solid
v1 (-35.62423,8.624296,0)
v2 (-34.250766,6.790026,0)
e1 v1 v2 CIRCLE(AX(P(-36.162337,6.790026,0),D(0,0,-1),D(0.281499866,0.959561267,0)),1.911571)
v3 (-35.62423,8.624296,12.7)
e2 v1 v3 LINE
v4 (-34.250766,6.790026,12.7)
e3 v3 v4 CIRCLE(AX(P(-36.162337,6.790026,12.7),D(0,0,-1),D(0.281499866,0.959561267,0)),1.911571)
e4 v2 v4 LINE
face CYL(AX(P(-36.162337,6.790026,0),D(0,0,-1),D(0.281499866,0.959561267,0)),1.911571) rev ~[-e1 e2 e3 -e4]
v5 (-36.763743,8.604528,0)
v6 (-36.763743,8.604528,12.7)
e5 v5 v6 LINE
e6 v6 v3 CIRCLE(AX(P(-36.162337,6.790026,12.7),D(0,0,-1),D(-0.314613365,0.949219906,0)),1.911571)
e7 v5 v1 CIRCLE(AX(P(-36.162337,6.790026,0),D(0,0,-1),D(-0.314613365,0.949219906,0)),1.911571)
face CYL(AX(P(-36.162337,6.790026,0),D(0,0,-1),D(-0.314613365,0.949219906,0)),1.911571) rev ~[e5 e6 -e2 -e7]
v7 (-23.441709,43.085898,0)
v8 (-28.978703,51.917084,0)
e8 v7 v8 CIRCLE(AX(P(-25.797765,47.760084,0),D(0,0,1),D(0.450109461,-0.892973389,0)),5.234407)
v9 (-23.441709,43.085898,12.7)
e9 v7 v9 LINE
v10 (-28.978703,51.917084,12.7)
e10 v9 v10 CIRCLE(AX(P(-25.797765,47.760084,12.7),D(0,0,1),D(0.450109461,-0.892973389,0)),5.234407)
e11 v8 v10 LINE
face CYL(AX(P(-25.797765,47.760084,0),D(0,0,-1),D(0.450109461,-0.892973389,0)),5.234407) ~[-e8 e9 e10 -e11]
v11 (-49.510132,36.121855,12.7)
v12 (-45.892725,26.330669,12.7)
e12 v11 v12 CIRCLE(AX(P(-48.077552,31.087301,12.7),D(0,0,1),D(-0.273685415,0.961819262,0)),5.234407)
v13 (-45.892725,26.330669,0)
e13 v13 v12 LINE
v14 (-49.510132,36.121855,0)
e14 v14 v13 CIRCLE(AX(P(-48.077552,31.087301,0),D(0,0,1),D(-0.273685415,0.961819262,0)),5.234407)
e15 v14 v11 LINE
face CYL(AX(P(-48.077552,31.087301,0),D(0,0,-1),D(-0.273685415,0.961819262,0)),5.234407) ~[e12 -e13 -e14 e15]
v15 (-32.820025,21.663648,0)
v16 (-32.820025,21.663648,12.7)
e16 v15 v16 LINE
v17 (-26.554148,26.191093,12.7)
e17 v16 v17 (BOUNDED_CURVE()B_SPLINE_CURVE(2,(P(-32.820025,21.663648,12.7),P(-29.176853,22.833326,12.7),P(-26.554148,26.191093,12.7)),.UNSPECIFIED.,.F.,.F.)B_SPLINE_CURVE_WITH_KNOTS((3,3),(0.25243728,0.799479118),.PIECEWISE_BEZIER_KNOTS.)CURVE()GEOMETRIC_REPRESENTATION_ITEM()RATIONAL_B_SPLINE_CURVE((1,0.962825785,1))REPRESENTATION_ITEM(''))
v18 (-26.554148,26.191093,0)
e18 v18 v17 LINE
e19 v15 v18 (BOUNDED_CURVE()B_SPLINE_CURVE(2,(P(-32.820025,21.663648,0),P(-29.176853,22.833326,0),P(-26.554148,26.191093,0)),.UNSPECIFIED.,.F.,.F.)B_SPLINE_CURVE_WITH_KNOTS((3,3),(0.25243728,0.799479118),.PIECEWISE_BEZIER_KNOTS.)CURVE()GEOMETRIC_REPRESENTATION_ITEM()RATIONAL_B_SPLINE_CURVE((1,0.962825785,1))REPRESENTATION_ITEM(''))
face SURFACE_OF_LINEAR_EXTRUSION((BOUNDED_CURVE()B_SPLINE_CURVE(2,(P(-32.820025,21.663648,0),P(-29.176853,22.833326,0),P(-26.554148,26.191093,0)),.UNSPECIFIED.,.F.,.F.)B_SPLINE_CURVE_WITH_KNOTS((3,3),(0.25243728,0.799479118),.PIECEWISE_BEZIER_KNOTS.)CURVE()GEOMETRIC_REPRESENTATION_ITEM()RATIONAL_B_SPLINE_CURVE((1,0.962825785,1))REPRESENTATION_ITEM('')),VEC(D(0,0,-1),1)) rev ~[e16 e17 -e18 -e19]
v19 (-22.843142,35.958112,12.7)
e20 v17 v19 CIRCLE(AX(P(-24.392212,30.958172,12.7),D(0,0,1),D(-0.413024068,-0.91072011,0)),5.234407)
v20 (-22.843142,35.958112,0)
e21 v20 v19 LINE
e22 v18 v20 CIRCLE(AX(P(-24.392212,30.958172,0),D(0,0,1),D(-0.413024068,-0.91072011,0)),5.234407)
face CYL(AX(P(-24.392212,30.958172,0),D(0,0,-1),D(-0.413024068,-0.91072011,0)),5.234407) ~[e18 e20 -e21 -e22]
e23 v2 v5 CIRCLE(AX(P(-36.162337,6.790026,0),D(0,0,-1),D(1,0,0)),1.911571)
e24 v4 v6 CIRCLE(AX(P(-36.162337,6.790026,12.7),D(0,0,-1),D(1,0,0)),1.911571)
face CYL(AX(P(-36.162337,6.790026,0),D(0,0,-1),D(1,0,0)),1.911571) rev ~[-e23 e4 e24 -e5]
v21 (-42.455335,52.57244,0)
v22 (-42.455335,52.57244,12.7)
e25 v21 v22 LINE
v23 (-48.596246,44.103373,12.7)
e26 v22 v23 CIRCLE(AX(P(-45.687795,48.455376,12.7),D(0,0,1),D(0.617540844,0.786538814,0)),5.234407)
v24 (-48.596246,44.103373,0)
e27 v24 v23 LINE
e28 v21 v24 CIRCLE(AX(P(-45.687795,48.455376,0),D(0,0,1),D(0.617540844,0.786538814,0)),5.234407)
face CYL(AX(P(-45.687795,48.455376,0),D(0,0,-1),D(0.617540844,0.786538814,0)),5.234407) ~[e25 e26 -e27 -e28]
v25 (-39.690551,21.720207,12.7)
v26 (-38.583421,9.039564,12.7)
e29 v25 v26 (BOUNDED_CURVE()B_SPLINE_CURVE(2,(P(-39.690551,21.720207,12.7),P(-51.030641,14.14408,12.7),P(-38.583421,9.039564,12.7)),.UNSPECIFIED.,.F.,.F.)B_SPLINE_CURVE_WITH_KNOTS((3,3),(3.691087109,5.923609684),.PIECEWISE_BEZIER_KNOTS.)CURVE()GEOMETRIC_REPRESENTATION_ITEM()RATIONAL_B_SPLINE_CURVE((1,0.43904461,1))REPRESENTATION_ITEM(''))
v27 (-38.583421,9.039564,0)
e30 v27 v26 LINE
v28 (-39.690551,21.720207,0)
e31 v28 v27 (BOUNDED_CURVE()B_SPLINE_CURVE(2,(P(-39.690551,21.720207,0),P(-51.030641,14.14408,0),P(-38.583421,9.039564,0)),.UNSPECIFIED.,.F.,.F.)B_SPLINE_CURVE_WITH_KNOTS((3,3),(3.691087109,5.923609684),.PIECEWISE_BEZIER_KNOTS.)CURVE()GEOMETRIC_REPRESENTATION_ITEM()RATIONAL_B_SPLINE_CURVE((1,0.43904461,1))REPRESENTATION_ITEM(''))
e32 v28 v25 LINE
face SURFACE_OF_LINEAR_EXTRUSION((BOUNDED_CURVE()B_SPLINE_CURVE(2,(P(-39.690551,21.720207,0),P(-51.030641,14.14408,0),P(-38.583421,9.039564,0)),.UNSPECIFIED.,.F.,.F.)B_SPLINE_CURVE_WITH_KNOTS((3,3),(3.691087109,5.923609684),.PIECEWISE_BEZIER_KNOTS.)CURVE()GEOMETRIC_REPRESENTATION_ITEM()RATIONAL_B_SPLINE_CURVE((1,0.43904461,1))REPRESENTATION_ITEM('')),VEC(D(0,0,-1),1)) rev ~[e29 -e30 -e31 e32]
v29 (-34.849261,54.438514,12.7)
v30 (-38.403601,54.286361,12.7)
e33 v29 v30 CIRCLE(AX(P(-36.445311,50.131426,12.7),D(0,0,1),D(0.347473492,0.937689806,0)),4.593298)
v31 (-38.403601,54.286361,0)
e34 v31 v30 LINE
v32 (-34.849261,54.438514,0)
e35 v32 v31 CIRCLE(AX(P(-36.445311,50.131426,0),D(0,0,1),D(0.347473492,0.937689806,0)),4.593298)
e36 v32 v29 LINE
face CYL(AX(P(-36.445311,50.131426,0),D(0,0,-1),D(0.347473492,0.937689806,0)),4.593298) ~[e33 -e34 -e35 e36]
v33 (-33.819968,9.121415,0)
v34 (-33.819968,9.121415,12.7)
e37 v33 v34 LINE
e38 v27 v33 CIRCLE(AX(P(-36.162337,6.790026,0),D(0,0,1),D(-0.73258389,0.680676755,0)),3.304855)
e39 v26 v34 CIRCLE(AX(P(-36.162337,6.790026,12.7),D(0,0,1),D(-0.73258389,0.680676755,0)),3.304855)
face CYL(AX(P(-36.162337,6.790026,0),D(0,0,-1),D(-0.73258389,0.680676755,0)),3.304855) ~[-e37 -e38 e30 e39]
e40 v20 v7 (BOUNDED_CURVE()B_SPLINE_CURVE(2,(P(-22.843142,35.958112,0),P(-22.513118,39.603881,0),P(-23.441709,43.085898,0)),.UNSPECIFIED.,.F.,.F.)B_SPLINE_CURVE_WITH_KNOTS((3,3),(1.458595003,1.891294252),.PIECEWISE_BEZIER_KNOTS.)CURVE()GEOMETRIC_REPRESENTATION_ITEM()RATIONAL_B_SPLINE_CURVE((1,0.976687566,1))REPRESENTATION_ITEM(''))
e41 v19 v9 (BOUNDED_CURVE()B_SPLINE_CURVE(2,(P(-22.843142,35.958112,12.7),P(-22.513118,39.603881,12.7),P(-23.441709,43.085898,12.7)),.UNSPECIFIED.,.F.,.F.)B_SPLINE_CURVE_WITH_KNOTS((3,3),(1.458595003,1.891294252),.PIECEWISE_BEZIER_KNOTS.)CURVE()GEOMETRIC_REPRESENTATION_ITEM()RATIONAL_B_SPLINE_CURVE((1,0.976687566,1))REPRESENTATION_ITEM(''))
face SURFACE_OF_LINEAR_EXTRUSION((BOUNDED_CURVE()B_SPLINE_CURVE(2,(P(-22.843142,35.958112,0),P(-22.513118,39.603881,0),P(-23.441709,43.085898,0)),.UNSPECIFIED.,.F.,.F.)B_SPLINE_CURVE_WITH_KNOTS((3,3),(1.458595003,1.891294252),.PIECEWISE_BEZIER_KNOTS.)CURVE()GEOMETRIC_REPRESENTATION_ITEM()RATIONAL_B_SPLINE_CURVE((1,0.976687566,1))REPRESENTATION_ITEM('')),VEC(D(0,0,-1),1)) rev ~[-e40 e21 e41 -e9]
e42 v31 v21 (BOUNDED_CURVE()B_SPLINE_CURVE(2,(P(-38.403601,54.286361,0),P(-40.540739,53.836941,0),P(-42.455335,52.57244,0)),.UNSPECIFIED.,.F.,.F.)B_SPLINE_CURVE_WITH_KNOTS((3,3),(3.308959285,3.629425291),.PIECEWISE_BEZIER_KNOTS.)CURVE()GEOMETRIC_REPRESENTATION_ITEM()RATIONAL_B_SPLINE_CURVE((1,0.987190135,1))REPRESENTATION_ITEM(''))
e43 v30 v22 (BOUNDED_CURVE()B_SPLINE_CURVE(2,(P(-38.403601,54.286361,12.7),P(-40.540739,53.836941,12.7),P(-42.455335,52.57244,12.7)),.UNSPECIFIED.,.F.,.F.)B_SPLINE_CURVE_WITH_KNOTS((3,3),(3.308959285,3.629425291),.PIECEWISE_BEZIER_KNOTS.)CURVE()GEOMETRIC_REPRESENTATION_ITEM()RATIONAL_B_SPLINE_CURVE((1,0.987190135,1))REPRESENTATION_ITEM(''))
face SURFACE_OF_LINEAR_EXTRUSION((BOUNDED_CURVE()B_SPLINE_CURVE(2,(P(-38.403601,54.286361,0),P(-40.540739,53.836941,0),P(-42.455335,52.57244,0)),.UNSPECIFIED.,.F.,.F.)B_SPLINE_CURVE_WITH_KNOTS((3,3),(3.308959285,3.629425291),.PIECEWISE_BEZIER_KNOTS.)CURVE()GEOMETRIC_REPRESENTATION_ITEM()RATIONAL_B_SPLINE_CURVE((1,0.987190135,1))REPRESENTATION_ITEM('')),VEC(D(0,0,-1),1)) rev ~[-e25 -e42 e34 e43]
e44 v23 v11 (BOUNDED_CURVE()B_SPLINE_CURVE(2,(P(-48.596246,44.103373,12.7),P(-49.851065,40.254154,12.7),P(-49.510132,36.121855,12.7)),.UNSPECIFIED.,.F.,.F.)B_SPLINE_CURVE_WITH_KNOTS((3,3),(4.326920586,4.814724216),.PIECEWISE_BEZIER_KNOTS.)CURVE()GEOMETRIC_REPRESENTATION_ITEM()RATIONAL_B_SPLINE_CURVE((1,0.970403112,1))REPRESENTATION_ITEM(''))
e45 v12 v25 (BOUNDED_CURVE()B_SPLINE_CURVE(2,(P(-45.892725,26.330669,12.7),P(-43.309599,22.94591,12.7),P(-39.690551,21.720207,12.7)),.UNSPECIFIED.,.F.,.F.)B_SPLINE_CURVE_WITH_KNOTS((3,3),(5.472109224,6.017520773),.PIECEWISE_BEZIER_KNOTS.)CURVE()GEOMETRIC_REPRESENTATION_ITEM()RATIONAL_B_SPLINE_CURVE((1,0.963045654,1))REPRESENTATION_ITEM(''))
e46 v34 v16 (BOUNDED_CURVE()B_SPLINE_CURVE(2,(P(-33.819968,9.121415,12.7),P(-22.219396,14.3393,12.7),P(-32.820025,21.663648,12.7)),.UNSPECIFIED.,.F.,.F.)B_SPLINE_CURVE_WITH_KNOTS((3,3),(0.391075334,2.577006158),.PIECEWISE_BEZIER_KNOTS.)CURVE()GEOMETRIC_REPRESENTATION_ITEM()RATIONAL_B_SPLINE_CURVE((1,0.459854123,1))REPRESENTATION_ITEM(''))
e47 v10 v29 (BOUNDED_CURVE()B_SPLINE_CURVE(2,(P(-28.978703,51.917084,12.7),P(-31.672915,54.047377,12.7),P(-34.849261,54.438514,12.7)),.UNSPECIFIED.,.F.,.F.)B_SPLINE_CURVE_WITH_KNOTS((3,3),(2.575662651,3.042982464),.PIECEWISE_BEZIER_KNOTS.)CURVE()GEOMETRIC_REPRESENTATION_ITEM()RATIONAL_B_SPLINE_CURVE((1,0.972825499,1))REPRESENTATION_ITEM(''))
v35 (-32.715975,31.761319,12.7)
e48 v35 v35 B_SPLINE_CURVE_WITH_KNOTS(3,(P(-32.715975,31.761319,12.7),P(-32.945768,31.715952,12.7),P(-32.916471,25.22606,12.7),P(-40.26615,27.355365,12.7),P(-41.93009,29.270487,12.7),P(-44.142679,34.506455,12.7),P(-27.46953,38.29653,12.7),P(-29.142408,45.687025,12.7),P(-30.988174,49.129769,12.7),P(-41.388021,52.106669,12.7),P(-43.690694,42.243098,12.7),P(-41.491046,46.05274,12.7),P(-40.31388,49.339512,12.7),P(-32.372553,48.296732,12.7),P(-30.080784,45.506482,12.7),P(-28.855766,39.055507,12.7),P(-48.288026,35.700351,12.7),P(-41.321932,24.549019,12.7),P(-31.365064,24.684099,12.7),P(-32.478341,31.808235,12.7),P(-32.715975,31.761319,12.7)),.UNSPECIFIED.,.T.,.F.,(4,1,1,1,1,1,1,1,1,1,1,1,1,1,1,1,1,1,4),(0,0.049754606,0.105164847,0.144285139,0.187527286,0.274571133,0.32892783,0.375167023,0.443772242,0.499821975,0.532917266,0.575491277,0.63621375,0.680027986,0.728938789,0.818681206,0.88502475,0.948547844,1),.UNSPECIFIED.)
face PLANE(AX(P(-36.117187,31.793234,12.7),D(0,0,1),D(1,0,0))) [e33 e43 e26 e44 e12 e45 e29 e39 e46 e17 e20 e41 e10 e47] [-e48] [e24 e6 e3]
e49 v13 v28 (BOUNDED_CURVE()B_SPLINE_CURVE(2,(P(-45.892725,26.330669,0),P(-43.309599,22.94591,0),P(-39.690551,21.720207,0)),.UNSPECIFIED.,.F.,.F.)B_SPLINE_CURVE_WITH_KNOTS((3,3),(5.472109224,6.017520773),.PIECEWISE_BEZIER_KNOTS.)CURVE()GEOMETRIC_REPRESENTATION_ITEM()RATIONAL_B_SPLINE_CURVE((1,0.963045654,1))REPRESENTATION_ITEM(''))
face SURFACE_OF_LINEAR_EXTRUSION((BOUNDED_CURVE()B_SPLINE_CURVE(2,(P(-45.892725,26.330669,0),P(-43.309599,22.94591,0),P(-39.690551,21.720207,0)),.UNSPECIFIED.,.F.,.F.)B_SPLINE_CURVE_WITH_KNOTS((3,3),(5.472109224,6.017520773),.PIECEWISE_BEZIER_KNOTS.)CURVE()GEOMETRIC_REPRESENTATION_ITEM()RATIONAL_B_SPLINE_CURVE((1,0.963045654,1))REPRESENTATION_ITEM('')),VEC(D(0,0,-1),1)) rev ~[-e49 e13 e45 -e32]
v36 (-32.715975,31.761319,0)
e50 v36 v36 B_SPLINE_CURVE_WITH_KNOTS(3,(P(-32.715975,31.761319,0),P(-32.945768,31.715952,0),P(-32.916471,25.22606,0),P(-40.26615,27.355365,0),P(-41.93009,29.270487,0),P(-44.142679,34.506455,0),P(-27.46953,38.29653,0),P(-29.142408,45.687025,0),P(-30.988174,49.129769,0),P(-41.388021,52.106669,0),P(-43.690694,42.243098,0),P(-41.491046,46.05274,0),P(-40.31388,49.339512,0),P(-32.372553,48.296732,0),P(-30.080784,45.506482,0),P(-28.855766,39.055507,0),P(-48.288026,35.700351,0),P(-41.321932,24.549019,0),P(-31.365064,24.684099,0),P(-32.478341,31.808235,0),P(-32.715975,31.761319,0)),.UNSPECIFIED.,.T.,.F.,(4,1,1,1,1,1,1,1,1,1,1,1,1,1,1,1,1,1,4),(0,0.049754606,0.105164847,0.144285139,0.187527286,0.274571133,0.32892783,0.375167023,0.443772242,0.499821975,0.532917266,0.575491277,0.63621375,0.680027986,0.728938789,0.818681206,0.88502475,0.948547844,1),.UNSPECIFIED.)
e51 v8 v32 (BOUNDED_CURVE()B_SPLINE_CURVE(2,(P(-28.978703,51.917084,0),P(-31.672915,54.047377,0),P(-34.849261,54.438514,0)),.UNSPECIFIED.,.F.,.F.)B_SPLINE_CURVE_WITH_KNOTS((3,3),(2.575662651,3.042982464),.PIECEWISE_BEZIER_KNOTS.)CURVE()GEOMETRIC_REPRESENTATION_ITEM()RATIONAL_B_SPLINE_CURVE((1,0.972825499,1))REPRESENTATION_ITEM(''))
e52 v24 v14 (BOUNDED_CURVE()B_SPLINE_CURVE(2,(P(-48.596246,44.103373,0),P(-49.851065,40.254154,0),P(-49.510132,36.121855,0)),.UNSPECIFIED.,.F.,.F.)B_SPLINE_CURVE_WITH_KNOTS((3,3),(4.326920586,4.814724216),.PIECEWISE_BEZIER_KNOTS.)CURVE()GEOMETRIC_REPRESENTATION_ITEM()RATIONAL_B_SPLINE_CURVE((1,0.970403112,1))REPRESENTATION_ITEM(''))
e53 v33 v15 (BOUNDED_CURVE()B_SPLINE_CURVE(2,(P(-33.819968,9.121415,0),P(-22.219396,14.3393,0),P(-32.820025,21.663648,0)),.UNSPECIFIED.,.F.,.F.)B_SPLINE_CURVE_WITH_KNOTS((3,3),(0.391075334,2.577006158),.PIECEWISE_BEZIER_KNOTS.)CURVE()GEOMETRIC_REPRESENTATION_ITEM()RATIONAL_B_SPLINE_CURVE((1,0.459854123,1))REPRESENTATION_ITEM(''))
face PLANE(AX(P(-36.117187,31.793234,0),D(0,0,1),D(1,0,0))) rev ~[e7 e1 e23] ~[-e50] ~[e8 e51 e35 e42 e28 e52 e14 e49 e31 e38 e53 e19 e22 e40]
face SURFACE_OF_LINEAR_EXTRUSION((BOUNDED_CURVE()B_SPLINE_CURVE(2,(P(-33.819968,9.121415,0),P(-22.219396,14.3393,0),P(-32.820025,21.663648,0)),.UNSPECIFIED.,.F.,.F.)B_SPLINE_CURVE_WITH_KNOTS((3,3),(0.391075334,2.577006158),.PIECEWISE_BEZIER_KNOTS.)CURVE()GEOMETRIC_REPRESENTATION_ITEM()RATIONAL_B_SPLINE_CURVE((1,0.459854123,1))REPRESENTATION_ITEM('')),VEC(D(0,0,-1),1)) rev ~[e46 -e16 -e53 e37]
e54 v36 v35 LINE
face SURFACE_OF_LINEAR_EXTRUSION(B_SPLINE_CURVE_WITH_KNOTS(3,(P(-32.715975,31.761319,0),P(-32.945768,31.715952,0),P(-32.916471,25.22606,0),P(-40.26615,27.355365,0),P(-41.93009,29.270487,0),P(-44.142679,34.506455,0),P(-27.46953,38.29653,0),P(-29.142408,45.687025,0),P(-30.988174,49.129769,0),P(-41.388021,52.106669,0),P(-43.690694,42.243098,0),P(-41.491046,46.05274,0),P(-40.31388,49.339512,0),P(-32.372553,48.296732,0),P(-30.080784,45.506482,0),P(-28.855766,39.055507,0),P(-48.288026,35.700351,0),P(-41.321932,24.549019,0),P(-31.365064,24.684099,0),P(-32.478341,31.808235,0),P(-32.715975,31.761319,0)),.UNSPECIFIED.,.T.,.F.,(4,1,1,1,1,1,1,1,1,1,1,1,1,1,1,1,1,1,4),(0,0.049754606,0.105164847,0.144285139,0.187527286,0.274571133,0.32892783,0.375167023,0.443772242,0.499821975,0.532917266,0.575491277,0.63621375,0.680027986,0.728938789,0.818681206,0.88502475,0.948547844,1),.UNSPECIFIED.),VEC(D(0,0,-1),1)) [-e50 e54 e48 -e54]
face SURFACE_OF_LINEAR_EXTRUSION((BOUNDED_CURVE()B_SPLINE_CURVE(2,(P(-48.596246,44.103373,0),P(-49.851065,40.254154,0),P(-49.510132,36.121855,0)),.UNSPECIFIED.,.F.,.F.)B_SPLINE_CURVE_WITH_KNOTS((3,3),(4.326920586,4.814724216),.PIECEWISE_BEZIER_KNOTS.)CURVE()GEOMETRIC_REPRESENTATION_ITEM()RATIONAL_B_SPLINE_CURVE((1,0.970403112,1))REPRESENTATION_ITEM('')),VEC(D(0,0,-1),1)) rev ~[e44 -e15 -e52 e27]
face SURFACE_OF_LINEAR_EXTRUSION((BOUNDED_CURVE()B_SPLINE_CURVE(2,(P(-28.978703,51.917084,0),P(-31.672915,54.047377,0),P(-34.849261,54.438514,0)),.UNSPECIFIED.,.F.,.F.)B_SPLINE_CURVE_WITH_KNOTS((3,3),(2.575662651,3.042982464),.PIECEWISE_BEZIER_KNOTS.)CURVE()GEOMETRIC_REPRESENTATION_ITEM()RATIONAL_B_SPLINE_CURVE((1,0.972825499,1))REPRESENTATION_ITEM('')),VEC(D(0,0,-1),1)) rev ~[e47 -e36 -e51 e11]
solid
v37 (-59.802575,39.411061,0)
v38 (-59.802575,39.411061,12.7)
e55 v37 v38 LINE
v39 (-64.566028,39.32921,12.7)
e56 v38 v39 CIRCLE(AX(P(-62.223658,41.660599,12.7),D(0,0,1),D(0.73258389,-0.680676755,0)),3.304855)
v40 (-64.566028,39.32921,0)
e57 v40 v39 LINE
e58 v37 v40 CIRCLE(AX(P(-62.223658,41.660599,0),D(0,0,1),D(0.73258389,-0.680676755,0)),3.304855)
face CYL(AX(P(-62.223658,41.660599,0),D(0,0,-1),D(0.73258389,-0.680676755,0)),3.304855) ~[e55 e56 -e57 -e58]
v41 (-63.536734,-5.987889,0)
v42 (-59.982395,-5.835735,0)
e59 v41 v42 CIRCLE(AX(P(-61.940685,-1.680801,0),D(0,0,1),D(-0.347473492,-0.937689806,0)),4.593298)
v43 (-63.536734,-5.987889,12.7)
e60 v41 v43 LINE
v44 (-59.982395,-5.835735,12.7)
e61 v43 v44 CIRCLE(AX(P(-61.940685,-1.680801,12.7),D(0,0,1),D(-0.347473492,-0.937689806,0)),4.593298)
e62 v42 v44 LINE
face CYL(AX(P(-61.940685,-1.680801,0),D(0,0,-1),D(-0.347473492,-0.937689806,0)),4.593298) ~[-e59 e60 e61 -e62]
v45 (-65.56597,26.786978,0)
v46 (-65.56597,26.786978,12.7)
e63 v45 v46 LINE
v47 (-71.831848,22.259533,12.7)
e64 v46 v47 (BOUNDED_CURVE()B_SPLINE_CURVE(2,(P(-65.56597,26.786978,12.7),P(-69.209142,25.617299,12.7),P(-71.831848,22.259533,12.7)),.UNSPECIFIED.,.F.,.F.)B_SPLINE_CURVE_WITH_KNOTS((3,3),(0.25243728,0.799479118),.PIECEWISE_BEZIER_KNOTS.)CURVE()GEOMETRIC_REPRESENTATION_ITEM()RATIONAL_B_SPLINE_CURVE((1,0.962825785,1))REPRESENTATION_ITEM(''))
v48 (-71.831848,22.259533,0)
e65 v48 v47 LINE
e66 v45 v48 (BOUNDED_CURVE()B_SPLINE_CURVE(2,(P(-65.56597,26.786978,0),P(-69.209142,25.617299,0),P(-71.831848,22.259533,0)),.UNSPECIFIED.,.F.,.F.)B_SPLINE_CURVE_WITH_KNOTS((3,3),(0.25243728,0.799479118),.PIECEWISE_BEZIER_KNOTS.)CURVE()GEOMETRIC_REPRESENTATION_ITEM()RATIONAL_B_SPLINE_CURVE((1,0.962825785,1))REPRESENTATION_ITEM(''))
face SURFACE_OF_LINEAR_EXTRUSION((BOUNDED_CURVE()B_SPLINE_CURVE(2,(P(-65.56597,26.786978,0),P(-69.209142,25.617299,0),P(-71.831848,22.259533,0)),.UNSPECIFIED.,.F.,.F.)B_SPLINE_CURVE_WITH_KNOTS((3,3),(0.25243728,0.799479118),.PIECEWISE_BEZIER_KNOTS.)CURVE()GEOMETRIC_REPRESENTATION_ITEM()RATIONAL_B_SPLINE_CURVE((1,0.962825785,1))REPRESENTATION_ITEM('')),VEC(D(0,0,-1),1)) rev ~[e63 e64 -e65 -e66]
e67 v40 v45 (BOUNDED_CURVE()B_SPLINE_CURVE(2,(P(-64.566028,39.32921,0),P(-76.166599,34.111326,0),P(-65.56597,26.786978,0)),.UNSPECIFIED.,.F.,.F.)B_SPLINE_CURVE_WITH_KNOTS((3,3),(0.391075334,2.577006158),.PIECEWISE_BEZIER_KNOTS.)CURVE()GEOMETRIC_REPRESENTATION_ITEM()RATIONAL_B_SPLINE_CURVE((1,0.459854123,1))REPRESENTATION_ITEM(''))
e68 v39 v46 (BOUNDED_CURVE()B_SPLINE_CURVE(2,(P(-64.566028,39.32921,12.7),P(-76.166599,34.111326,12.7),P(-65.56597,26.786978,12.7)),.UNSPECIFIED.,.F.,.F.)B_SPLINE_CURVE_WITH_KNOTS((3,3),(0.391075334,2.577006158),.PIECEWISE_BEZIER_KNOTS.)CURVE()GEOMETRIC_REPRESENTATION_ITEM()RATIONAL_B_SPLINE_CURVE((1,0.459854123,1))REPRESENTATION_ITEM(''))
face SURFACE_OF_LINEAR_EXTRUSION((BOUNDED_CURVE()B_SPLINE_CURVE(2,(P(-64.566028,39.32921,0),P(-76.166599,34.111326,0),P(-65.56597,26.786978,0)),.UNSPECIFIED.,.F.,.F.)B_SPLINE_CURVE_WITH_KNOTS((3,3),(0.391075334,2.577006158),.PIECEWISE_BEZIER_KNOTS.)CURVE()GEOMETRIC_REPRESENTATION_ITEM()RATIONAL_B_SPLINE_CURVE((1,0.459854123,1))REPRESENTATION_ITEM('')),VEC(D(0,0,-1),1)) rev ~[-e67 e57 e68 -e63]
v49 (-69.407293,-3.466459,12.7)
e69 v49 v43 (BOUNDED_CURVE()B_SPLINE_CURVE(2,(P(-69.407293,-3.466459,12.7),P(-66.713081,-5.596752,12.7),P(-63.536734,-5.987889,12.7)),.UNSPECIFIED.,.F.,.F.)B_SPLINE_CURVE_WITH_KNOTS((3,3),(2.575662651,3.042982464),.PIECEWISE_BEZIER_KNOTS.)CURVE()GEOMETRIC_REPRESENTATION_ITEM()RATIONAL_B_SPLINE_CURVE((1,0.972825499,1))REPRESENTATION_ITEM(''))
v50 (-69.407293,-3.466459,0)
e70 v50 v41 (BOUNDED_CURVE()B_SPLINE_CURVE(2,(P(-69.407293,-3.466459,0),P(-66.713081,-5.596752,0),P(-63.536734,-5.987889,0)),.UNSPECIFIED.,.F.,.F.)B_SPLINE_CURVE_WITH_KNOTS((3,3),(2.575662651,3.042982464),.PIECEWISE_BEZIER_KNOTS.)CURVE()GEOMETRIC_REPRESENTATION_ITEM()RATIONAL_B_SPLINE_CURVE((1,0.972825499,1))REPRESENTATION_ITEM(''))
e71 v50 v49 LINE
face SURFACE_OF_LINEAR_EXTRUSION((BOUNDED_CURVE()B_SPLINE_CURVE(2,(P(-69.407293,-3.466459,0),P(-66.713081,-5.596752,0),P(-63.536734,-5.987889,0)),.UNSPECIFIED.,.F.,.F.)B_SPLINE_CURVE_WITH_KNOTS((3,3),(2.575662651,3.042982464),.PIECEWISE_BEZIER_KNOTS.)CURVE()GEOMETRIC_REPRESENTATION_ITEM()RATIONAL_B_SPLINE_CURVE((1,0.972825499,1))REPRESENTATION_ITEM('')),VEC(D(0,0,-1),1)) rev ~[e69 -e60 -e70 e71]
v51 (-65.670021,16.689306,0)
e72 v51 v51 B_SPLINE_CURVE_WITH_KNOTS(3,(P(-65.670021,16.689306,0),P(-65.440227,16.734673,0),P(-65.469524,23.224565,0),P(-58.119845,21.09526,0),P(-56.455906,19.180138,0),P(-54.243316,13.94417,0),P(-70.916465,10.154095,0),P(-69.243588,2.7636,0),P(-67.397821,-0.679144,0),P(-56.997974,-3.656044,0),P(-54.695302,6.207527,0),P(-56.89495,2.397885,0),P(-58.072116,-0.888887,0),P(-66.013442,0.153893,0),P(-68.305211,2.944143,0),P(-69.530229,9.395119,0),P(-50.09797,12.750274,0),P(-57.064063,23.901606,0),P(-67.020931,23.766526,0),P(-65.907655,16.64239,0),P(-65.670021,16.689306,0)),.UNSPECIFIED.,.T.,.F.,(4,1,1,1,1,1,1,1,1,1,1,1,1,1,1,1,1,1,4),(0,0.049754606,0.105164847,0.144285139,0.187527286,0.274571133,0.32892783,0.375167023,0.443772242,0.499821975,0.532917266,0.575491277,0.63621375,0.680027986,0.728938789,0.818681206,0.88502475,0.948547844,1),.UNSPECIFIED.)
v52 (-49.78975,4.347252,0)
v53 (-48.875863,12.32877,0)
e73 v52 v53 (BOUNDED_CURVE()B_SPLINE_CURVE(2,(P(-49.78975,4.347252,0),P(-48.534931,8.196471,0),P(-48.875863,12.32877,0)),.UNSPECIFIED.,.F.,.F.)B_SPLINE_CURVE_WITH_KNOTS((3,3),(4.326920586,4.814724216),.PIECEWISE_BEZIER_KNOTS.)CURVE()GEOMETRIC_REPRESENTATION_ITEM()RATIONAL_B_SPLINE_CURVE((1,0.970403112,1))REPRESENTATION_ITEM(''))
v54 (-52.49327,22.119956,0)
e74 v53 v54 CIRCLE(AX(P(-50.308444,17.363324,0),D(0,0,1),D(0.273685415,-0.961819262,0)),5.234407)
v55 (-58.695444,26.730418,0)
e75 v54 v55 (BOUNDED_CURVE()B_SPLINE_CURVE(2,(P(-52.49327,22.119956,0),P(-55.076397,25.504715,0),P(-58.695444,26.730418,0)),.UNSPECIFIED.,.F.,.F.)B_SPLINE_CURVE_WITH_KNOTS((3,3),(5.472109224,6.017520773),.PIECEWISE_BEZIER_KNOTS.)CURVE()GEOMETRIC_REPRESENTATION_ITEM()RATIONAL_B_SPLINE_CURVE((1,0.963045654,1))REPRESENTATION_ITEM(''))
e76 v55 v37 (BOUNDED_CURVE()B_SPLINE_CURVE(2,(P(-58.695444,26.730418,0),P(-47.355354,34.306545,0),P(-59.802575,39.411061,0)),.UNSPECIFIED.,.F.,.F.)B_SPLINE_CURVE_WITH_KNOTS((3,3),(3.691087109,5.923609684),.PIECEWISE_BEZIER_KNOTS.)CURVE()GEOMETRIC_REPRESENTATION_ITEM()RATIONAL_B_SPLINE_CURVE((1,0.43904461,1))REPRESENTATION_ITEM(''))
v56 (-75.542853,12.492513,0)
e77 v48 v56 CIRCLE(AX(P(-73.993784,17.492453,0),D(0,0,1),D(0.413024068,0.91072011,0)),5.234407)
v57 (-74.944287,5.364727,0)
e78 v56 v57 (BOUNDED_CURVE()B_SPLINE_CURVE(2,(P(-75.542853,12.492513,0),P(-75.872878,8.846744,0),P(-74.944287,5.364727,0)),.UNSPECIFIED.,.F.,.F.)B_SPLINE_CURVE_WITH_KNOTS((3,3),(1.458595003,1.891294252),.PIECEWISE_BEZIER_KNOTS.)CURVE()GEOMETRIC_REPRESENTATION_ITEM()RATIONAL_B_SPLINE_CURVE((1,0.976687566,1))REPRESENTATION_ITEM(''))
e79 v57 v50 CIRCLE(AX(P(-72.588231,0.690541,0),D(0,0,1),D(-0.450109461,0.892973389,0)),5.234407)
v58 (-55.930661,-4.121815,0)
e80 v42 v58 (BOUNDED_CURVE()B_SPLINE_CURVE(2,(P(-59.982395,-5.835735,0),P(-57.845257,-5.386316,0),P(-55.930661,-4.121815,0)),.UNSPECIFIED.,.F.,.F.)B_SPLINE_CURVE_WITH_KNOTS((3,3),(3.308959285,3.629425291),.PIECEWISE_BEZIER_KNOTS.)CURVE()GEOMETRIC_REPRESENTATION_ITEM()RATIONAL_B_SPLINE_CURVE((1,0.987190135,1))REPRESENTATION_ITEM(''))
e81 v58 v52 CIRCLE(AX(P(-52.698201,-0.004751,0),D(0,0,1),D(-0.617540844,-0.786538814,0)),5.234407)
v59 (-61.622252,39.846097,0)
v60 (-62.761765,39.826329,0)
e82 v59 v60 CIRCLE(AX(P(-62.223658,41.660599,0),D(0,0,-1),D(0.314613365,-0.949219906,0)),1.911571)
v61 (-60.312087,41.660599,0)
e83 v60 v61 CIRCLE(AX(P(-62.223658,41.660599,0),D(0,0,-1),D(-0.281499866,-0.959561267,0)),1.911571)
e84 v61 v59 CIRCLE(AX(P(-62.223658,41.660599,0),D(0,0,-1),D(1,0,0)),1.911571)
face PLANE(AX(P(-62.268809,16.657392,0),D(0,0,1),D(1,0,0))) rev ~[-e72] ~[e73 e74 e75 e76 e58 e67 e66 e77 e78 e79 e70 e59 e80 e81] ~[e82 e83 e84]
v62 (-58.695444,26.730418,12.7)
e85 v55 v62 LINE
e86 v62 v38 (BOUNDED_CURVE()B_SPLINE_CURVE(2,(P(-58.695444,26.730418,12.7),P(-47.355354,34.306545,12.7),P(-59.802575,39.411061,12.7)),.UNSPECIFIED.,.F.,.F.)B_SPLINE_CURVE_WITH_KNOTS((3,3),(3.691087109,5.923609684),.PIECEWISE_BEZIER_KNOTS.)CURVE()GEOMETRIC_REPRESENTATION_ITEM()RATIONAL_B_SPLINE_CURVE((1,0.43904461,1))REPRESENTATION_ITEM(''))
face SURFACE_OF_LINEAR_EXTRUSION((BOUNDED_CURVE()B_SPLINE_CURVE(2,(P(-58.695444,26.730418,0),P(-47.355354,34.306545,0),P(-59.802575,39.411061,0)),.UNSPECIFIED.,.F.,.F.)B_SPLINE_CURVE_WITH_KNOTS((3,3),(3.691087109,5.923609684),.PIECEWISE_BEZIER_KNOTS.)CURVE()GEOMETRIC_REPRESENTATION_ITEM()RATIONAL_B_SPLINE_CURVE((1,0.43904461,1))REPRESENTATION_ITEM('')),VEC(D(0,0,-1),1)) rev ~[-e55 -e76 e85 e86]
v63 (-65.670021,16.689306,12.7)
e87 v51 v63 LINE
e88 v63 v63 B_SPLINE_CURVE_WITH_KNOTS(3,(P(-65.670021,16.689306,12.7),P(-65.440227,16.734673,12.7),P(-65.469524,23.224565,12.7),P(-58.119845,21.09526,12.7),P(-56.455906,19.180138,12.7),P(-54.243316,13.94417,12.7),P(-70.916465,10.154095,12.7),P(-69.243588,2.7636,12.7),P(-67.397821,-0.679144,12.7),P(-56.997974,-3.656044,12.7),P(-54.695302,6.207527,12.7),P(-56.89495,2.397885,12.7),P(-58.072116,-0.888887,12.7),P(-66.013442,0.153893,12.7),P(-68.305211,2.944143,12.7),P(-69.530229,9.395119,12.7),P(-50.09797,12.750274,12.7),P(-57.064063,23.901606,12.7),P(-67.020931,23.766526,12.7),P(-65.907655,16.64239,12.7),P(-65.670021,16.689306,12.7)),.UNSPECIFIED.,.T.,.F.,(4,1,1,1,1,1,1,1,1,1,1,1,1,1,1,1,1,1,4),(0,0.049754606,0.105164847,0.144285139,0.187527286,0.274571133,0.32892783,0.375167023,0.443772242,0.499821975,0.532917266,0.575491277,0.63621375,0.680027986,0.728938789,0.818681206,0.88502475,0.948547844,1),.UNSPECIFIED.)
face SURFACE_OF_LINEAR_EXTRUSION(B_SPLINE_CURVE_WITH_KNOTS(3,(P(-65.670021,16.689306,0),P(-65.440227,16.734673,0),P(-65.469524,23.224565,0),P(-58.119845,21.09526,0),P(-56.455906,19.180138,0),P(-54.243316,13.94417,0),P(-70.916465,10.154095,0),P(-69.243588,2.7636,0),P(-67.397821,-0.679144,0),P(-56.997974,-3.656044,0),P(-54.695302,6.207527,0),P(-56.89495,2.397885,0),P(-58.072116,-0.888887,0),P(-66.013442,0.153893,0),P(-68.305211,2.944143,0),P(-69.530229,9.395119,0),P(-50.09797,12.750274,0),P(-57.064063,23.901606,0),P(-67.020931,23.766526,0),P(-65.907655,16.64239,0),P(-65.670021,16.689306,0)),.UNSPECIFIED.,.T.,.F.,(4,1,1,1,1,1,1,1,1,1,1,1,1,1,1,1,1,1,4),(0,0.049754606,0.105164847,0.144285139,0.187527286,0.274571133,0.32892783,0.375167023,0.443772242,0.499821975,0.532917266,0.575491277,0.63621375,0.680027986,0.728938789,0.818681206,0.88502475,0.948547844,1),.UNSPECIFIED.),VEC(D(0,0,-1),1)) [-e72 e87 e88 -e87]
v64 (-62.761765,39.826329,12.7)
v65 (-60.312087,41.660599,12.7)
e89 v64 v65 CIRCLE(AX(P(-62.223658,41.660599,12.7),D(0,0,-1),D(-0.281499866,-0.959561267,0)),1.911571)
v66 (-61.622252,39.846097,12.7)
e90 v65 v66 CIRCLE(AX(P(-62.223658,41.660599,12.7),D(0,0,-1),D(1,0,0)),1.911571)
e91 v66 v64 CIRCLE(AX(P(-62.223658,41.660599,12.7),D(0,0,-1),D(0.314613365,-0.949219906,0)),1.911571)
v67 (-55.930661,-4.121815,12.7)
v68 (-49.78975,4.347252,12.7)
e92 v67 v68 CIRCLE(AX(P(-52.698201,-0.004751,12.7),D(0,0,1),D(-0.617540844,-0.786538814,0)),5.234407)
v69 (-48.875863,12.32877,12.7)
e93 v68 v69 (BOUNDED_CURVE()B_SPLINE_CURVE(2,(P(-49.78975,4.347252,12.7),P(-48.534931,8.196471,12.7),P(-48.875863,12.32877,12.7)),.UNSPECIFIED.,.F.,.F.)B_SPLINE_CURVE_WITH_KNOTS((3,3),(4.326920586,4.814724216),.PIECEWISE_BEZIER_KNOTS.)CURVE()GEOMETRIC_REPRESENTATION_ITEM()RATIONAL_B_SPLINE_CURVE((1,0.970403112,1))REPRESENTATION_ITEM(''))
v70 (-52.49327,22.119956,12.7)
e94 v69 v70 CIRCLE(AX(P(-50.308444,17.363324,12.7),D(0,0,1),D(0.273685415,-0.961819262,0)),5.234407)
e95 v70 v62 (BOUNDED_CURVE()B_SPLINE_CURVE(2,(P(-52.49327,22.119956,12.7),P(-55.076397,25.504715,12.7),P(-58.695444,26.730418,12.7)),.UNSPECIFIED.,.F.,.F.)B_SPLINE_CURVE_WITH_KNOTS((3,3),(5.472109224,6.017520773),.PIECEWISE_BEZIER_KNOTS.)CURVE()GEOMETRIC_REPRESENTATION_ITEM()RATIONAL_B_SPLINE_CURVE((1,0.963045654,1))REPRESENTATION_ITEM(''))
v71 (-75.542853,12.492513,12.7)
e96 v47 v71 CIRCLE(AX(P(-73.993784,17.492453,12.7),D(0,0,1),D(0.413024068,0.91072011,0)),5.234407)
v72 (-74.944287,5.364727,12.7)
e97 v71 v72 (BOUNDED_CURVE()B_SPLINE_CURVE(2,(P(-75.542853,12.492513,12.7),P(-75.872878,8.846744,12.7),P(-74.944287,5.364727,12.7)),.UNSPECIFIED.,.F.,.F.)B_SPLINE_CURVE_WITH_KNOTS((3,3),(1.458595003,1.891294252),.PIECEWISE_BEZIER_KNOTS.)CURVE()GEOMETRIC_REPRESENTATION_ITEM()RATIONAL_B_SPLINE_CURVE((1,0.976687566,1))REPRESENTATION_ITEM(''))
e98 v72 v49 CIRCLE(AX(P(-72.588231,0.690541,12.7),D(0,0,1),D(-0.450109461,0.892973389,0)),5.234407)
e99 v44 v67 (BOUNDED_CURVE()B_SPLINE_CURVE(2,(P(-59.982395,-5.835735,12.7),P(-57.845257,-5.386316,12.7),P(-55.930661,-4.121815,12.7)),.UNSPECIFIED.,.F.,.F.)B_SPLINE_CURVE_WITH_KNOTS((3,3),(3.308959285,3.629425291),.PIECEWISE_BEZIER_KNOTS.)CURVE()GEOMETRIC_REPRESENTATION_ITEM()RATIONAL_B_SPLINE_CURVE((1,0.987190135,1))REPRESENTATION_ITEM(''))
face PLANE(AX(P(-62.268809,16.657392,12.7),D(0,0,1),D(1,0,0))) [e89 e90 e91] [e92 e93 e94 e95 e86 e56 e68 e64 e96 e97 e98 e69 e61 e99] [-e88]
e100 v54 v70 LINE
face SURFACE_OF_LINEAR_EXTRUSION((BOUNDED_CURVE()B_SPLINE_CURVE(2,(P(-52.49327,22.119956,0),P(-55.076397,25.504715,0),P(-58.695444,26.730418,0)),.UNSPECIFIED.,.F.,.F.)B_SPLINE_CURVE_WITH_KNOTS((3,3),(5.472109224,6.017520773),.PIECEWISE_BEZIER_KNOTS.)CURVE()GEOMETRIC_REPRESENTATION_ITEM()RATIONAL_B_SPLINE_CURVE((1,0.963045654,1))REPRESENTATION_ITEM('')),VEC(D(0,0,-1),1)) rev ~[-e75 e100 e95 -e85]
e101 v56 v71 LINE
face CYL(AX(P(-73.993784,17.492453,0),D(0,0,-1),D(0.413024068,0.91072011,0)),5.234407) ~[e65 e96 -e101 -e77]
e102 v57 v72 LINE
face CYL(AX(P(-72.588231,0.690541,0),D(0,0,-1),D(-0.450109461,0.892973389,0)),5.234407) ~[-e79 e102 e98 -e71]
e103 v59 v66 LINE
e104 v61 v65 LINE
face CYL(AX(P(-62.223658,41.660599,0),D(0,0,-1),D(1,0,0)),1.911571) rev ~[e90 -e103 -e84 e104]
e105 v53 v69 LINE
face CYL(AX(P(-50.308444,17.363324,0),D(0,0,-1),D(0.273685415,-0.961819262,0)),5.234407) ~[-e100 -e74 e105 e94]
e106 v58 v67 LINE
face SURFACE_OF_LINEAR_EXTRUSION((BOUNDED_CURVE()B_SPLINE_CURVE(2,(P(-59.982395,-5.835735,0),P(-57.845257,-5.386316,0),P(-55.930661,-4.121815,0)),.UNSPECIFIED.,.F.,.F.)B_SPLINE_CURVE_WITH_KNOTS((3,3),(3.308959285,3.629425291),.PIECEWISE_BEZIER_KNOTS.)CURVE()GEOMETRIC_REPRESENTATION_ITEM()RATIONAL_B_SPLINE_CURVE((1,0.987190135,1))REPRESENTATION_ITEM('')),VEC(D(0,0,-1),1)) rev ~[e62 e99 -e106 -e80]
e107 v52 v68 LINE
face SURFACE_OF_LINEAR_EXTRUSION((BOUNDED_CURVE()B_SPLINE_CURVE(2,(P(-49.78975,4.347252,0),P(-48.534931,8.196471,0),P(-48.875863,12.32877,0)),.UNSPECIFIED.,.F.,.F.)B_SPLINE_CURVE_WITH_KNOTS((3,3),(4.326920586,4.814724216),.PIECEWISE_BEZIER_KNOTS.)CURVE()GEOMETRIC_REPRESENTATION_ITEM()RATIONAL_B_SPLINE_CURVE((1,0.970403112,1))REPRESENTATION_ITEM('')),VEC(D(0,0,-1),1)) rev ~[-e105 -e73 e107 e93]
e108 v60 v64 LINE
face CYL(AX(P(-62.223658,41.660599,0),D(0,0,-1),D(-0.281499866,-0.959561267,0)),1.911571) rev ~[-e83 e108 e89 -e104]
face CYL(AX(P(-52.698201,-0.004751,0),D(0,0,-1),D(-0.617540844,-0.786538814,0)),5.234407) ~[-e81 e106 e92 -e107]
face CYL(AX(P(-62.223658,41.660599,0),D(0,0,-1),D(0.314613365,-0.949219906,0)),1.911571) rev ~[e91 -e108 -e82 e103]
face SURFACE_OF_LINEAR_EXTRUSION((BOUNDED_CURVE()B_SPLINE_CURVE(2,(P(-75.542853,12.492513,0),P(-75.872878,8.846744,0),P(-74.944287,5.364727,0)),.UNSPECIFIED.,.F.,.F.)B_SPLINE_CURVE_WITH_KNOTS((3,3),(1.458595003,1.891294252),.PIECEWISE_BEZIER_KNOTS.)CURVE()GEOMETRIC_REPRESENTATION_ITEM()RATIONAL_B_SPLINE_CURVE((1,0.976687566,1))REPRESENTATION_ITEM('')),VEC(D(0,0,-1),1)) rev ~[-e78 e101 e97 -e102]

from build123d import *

# Parameters (mm, degrees)
F1_DEPTH = 12.7


with BuildPart() as f1:
    # F0 (on Top) → F1 (new body)
    with BuildSketch(Plane.XY):
        with BuildLine():
            add(Edge.make_bspline(
                [(-38.4036007236, 54.286360619), (-40.5407390169, 53.8369409967), (-42.4553347408, 52.5724402571)],
                knots=[3.3089592847, 3.3089592847, 3.3089592847, 3.629425291, 3.629425291, 3.629425291], degree=2, weights=[1, 0.9871901349, 1]))
            ThreePointArc((-42.4553347408, 52.5724402571), (-49.9254263975, 51.528077674), (-48.5962456426, 44.1033728929))
            add(Edge.make_bspline(
                [(-48.5962456426, 44.1033728929), (-49.8510646166, 40.2541539838), (-49.5101324415, 36.1218548607)],
                knots=[4.3269205864, 4.3269205864, 4.3269205864, 4.8147242163, 4.8147242163, 4.8147242163], degree=2, weights=[1, 0.9704031116, 1]))
            ThreePointArc((-49.5101324415, 36.1218548607), (-52.9875717284, 29.2732674759), (-45.8927251318, 26.3306691461))
            add(Edge.make_bspline(
                [(-45.8927251318, 26.3306691461), (-43.3095989809, 22.9459104938), (-39.6905513849, 21.7202069857)],
                knots=[5.4721092235, 5.4721092235, 5.4721092235, 6.0175207729, 6.0175207729, 6.0175207729], degree=2, weights=[1, 0.9630456541, 1]))
            add(Edge.make_bspline(
                [(-39.6905513849, 21.7202069857), (-51.0306414073, 14.1440802503), (-38.5834207212, 9.0395642978)],
                knots=[3.691087109, 3.691087109, 3.691087109, 5.9236096837, 5.9236096837, 5.9236096837], degree=2, weights=[1, 0.4390446104, 1]))
            ThreePointArc((-38.5834207212, 9.0395642978), (-36.1055579381, 3.4856590151), (-33.8199680166, 9.1214150932))
            add(Edge.make_bspline(
                [(-33.8199680166, 9.1214150932), (-22.2193961798, 14.3392995893), (-32.8200251184, 21.6636475907)],
                knots=[0.3910753345, 0.3910753345, 0.3910753345, 2.5770061583, 2.5770061583, 2.5770061583], degree=2, weights=[1, 0.4598541232, 1]))
            add(Edge.make_bspline(
                [(-32.8200251184, 21.6636475907), (-29.1768534598, 22.8333263485), (-26.5541477792, 26.1910925855)],
                knots=[0.2524372804, 0.2524372804, 0.2524372804, 0.7994791179, 0.7994791179, 0.7994791179], degree=2, weights=[1, 0.9628257847, 1]))
            ThreePointArc((-26.5541477792, 26.1910925855), (-19.4990970934, 29.0990203105), (-22.8431424227, 35.9581124274))
            add(Edge.make_bspline(
                [(-22.8431424227, 35.9581124274), (-22.513117884, 39.6038813291), (-23.441708777, 43.0858976345)],
                knots=[1.4585950027, 1.4585950027, 1.4585950027, 1.8912942523, 1.8912942523, 1.8912942523], degree=2, weights=[1, 0.9766875655, 1]))
            ThreePointArc((-23.441708777, 43.0858976345), (-21.3629513118, 50.5406314465), (-28.9787025253, 51.9170842286))
            add(Edge.make_bspline(
                [(-28.9787025253, 51.9170842286), (-31.6729146048, 54.0473768158), (-34.8492613547, 54.4385141895)],
                knots=[2.5756626514, 2.5756626514, 2.5756626514, 3.0429824637, 3.0429824637, 3.0429824637], degree=2, weights=[1, 0.9728254994, 1]))
            ThreePointArc((-34.8492613547, 54.4385141895), (-36.6417598056, 54.7205206093), (-38.4036007236, 54.286360619))
        make_face()
        with BuildLine():
            ThreePointArc((-35.624230038, 8.6242962222), (-34.6321842706, 7.9357739156), (-34.2507656844, 6.7900262848))
            ThreePointArc((-34.2507656844, 6.7900262848), (-37.281371343, 5.2402301881), (-36.7637430801, 8.6045279723))
            ThreePointArc((-36.7637430801, 8.6045279723), (-36.1954940651, 8.701310169), (-35.624230038, 8.6242962222))
        make_face(mode=Mode.SUBTRACT)
        with BuildLine():
            add(Edge.make_bspline(
                [(-32.7159745055, 31.7613193179), (-32.9457681858, 31.7159516502), (-32.9164711374, 25.2260600153), (-40.2661501329, 27.3553653968), (-41.9300899439, 29.2704866371), (-44.1426793733, 34.5064554381), (-27.469530037, 38.2965296804), (-29.1424079517, 45.687024976), (-30.9881740832, 49.1297692203), (-41.3880211193, 52.1066692775), (-43.690693856, 42.2430982969), (-41.4910457701, 46.0527403336), (-40.3138798785, 49.3395123958), (-32.3725533132, 48.2967317464), (-30.0807842089, 45.5064823037), (-28.8557660894, 39.0555065274), (-48.2880259748, 35.7003514186), (-41.32193218, 24.5490192709), (-31.3650644669, 24.6840988699), (-32.4783406196, 31.8082348603), (-32.7159745055, 31.7613193179)],
                knots=[0, 0, 0, 0, 0.0497546061, 0.1051648466, 0.1442851388, 0.187527286, 0.2745711332, 0.3289278296, 0.3751670231, 0.4437722424, 0.4998219753, 0.5329172663, 0.5754912769, 0.6362137504, 0.6800279856, 0.7289387893, 0.8186812062, 0.8850247502, 0.9485478436, 1, 1, 1, 1], degree=3))
        make_face(mode=Mode.SUBTRACT)
    extrude(amount=F1_DEPTH)


with BuildPart() as f1b:
    # F0 (on Top) → F1, piece 2 (new body)
    with BuildSketch(Plane.XY):
        with BuildLine():
            add(Edge.make_bspline(
                [(-59.9823948045, -5.8357354929), (-57.8452565112, -5.3863158705), (-55.9306607874, -4.1218151309)],
                knots=[3.3089592847, 3.3089592847, 3.3089592847, 3.629425291, 3.629425291, 3.629425291], degree=2, weights=[1, 0.9871901349, 1]))
            ThreePointArc((-55.9306607874, -4.1218151309), (-48.4605691307, -3.0774525478), (-49.7897498856, 4.3472522333))
            add(Edge.make_bspline(
                [(-49.7897498856, 4.3472522333), (-48.5349309116, 8.1964711424), (-48.8758630867, 12.3287702655)],
                knots=[4.3269205864, 4.3269205864, 4.3269205864, 4.8147242163, 4.8147242163, 4.8147242163], degree=2, weights=[1, 0.9704031116, 1]))
            ThreePointArc((-48.8758630867, 12.3287702655), (-45.3984237997, 19.1773576502), (-52.4932703964, 22.1199559801))
            add(Edge.make_bspline(
                [(-52.4932703964, 22.1199559801), (-55.0763965473, 25.5047146323), (-58.6954441432, 26.7304181405)],
                knots=[5.4721092235, 5.4721092235, 5.4721092235, 6.0175207729, 6.0175207729, 6.0175207729], degree=2, weights=[1, 0.9630456541, 1]))
            add(Edge.make_bspline(
                [(-58.6954441432, 26.7304181405), (-47.3553541209, 34.3065448759), (-59.802574807, 39.4110608284)],
                knots=[3.691087109, 3.691087109, 3.691087109, 5.9236096837, 5.9236096837, 5.9236096837], degree=2, weights=[1, 0.4390446104, 1]))
            ThreePointArc((-59.802574807, 39.4110608284), (-62.2804375901, 44.9649661111), (-64.5660275116, 39.329210033))
            add(Edge.make_bspline(
                [(-64.5660275116, 39.329210033), (-76.1665993484, 34.1113255368), (-65.5659704097, 26.7869775355)],
                knots=[0.3910753345, 0.3910753345, 0.3910753345, 2.5770061583, 2.5770061583, 2.5770061583], degree=2, weights=[1, 0.4598541232, 1]))
            add(Edge.make_bspline(
                [(-65.5659704097, 26.7869775355), (-69.2091420684, 25.6172987777), (-71.831847749, 22.2595325407)],
                knots=[0.2524372804, 0.2524372804, 0.2524372804, 0.7994791179, 0.7994791179, 0.7994791179], degree=2, weights=[1, 0.9628257847, 1]))
            ThreePointArc((-71.831847749, 22.2595325407), (-78.8868984347, 19.3516048156), (-75.5428531055, 12.4925126987))
            add(Edge.make_bspline(
                [(-75.5428531055, 12.4925126987), (-75.8728776441, 8.8467437971), (-74.9442867512, 5.3647274917)],
                knots=[1.4585950027, 1.4585950027, 1.4585950027, 1.8912942523, 1.8912942523, 1.8912942523], degree=2, weights=[1, 0.9766875655, 1]))
            ThreePointArc((-74.9442867512, 5.3647274917), (-77.0230442164, -2.0900063204), (-69.4072930029, -3.4664591025))
            add(Edge.make_bspline(
                [(-69.4072930029, -3.4664591025), (-66.7130809234, -5.5967516896), (-63.5367341735, -5.9878890633)],
                knots=[2.5756626514, 2.5756626514, 2.5756626514, 3.0429824637, 3.0429824637, 3.0429824637], degree=2, weights=[1, 0.9728254994, 1]))
            ThreePointArc((-63.5367341735, -5.9878890633), (-61.7442357226, -6.2698954831), (-59.9823948045, -5.8357354929))
        make_face()
        with BuildLine():
            add(Edge.make_bspline(
                [(-65.6700210226, 16.6893058083), (-65.4402273423, 16.734673476), (-65.4695243908, 23.2245651109), (-58.1198453953, 21.0952597294), (-56.4559055842, 19.1801384891), (-54.2433161548, 13.944169688), (-70.9164654911, 10.1540954458), (-69.2435875765, 2.7636001502), (-67.3978214449, -0.6791440942), (-56.9979744089, -3.6560441514), (-54.6953016722, 6.2075268292), (-56.8949497581, 2.3978847926), (-58.0721156497, -0.8888872696), (-66.013442215, 0.1538933798), (-68.3052113192, 2.9441428224), (-69.5302294387, 9.3951185988), (-50.0979695534, 12.7502737076), (-57.0640633482, 23.9016058552), (-67.0209310612, 23.7665262563), (-65.9076549085, 16.6423902659), (-65.6700210226, 16.6893058083)],
                knots=[0, 0, 0, 0, 0.0497546061, 0.1051648466, 0.1442851388, 0.187527286, 0.2745711332, 0.3289278296, 0.3751670231, 0.4437722424, 0.4998219753, 0.5329172663, 0.5754912769, 0.6362137504, 0.6800279856, 0.7289387893, 0.8186812062, 0.8850247502, 0.9485478436, 1, 1, 1, 1], degree=3))
        make_face(mode=Mode.SUBTRACT)
        with BuildLine():
            ThreePointArc((-62.7617654901, 39.8263289039), (-63.3694060093, 43.1907517205), (-60.3120869131, 41.6605988414))
            ThreePointArc((-60.3120869131, 41.6605988414), (-60.6738622817, 40.5415646481), (-61.6222524481, 39.8460971539))
            ThreePointArc((-61.6222524481, 39.8460971539), (-62.190501463, 39.7493149572), (-62.7617654901, 39.8263289039))
        make_face(mode=Mode.SUBTRACT)
    extrude(amount=F1_DEPTH)


solid = Compound([f1.part, f1b.part])
